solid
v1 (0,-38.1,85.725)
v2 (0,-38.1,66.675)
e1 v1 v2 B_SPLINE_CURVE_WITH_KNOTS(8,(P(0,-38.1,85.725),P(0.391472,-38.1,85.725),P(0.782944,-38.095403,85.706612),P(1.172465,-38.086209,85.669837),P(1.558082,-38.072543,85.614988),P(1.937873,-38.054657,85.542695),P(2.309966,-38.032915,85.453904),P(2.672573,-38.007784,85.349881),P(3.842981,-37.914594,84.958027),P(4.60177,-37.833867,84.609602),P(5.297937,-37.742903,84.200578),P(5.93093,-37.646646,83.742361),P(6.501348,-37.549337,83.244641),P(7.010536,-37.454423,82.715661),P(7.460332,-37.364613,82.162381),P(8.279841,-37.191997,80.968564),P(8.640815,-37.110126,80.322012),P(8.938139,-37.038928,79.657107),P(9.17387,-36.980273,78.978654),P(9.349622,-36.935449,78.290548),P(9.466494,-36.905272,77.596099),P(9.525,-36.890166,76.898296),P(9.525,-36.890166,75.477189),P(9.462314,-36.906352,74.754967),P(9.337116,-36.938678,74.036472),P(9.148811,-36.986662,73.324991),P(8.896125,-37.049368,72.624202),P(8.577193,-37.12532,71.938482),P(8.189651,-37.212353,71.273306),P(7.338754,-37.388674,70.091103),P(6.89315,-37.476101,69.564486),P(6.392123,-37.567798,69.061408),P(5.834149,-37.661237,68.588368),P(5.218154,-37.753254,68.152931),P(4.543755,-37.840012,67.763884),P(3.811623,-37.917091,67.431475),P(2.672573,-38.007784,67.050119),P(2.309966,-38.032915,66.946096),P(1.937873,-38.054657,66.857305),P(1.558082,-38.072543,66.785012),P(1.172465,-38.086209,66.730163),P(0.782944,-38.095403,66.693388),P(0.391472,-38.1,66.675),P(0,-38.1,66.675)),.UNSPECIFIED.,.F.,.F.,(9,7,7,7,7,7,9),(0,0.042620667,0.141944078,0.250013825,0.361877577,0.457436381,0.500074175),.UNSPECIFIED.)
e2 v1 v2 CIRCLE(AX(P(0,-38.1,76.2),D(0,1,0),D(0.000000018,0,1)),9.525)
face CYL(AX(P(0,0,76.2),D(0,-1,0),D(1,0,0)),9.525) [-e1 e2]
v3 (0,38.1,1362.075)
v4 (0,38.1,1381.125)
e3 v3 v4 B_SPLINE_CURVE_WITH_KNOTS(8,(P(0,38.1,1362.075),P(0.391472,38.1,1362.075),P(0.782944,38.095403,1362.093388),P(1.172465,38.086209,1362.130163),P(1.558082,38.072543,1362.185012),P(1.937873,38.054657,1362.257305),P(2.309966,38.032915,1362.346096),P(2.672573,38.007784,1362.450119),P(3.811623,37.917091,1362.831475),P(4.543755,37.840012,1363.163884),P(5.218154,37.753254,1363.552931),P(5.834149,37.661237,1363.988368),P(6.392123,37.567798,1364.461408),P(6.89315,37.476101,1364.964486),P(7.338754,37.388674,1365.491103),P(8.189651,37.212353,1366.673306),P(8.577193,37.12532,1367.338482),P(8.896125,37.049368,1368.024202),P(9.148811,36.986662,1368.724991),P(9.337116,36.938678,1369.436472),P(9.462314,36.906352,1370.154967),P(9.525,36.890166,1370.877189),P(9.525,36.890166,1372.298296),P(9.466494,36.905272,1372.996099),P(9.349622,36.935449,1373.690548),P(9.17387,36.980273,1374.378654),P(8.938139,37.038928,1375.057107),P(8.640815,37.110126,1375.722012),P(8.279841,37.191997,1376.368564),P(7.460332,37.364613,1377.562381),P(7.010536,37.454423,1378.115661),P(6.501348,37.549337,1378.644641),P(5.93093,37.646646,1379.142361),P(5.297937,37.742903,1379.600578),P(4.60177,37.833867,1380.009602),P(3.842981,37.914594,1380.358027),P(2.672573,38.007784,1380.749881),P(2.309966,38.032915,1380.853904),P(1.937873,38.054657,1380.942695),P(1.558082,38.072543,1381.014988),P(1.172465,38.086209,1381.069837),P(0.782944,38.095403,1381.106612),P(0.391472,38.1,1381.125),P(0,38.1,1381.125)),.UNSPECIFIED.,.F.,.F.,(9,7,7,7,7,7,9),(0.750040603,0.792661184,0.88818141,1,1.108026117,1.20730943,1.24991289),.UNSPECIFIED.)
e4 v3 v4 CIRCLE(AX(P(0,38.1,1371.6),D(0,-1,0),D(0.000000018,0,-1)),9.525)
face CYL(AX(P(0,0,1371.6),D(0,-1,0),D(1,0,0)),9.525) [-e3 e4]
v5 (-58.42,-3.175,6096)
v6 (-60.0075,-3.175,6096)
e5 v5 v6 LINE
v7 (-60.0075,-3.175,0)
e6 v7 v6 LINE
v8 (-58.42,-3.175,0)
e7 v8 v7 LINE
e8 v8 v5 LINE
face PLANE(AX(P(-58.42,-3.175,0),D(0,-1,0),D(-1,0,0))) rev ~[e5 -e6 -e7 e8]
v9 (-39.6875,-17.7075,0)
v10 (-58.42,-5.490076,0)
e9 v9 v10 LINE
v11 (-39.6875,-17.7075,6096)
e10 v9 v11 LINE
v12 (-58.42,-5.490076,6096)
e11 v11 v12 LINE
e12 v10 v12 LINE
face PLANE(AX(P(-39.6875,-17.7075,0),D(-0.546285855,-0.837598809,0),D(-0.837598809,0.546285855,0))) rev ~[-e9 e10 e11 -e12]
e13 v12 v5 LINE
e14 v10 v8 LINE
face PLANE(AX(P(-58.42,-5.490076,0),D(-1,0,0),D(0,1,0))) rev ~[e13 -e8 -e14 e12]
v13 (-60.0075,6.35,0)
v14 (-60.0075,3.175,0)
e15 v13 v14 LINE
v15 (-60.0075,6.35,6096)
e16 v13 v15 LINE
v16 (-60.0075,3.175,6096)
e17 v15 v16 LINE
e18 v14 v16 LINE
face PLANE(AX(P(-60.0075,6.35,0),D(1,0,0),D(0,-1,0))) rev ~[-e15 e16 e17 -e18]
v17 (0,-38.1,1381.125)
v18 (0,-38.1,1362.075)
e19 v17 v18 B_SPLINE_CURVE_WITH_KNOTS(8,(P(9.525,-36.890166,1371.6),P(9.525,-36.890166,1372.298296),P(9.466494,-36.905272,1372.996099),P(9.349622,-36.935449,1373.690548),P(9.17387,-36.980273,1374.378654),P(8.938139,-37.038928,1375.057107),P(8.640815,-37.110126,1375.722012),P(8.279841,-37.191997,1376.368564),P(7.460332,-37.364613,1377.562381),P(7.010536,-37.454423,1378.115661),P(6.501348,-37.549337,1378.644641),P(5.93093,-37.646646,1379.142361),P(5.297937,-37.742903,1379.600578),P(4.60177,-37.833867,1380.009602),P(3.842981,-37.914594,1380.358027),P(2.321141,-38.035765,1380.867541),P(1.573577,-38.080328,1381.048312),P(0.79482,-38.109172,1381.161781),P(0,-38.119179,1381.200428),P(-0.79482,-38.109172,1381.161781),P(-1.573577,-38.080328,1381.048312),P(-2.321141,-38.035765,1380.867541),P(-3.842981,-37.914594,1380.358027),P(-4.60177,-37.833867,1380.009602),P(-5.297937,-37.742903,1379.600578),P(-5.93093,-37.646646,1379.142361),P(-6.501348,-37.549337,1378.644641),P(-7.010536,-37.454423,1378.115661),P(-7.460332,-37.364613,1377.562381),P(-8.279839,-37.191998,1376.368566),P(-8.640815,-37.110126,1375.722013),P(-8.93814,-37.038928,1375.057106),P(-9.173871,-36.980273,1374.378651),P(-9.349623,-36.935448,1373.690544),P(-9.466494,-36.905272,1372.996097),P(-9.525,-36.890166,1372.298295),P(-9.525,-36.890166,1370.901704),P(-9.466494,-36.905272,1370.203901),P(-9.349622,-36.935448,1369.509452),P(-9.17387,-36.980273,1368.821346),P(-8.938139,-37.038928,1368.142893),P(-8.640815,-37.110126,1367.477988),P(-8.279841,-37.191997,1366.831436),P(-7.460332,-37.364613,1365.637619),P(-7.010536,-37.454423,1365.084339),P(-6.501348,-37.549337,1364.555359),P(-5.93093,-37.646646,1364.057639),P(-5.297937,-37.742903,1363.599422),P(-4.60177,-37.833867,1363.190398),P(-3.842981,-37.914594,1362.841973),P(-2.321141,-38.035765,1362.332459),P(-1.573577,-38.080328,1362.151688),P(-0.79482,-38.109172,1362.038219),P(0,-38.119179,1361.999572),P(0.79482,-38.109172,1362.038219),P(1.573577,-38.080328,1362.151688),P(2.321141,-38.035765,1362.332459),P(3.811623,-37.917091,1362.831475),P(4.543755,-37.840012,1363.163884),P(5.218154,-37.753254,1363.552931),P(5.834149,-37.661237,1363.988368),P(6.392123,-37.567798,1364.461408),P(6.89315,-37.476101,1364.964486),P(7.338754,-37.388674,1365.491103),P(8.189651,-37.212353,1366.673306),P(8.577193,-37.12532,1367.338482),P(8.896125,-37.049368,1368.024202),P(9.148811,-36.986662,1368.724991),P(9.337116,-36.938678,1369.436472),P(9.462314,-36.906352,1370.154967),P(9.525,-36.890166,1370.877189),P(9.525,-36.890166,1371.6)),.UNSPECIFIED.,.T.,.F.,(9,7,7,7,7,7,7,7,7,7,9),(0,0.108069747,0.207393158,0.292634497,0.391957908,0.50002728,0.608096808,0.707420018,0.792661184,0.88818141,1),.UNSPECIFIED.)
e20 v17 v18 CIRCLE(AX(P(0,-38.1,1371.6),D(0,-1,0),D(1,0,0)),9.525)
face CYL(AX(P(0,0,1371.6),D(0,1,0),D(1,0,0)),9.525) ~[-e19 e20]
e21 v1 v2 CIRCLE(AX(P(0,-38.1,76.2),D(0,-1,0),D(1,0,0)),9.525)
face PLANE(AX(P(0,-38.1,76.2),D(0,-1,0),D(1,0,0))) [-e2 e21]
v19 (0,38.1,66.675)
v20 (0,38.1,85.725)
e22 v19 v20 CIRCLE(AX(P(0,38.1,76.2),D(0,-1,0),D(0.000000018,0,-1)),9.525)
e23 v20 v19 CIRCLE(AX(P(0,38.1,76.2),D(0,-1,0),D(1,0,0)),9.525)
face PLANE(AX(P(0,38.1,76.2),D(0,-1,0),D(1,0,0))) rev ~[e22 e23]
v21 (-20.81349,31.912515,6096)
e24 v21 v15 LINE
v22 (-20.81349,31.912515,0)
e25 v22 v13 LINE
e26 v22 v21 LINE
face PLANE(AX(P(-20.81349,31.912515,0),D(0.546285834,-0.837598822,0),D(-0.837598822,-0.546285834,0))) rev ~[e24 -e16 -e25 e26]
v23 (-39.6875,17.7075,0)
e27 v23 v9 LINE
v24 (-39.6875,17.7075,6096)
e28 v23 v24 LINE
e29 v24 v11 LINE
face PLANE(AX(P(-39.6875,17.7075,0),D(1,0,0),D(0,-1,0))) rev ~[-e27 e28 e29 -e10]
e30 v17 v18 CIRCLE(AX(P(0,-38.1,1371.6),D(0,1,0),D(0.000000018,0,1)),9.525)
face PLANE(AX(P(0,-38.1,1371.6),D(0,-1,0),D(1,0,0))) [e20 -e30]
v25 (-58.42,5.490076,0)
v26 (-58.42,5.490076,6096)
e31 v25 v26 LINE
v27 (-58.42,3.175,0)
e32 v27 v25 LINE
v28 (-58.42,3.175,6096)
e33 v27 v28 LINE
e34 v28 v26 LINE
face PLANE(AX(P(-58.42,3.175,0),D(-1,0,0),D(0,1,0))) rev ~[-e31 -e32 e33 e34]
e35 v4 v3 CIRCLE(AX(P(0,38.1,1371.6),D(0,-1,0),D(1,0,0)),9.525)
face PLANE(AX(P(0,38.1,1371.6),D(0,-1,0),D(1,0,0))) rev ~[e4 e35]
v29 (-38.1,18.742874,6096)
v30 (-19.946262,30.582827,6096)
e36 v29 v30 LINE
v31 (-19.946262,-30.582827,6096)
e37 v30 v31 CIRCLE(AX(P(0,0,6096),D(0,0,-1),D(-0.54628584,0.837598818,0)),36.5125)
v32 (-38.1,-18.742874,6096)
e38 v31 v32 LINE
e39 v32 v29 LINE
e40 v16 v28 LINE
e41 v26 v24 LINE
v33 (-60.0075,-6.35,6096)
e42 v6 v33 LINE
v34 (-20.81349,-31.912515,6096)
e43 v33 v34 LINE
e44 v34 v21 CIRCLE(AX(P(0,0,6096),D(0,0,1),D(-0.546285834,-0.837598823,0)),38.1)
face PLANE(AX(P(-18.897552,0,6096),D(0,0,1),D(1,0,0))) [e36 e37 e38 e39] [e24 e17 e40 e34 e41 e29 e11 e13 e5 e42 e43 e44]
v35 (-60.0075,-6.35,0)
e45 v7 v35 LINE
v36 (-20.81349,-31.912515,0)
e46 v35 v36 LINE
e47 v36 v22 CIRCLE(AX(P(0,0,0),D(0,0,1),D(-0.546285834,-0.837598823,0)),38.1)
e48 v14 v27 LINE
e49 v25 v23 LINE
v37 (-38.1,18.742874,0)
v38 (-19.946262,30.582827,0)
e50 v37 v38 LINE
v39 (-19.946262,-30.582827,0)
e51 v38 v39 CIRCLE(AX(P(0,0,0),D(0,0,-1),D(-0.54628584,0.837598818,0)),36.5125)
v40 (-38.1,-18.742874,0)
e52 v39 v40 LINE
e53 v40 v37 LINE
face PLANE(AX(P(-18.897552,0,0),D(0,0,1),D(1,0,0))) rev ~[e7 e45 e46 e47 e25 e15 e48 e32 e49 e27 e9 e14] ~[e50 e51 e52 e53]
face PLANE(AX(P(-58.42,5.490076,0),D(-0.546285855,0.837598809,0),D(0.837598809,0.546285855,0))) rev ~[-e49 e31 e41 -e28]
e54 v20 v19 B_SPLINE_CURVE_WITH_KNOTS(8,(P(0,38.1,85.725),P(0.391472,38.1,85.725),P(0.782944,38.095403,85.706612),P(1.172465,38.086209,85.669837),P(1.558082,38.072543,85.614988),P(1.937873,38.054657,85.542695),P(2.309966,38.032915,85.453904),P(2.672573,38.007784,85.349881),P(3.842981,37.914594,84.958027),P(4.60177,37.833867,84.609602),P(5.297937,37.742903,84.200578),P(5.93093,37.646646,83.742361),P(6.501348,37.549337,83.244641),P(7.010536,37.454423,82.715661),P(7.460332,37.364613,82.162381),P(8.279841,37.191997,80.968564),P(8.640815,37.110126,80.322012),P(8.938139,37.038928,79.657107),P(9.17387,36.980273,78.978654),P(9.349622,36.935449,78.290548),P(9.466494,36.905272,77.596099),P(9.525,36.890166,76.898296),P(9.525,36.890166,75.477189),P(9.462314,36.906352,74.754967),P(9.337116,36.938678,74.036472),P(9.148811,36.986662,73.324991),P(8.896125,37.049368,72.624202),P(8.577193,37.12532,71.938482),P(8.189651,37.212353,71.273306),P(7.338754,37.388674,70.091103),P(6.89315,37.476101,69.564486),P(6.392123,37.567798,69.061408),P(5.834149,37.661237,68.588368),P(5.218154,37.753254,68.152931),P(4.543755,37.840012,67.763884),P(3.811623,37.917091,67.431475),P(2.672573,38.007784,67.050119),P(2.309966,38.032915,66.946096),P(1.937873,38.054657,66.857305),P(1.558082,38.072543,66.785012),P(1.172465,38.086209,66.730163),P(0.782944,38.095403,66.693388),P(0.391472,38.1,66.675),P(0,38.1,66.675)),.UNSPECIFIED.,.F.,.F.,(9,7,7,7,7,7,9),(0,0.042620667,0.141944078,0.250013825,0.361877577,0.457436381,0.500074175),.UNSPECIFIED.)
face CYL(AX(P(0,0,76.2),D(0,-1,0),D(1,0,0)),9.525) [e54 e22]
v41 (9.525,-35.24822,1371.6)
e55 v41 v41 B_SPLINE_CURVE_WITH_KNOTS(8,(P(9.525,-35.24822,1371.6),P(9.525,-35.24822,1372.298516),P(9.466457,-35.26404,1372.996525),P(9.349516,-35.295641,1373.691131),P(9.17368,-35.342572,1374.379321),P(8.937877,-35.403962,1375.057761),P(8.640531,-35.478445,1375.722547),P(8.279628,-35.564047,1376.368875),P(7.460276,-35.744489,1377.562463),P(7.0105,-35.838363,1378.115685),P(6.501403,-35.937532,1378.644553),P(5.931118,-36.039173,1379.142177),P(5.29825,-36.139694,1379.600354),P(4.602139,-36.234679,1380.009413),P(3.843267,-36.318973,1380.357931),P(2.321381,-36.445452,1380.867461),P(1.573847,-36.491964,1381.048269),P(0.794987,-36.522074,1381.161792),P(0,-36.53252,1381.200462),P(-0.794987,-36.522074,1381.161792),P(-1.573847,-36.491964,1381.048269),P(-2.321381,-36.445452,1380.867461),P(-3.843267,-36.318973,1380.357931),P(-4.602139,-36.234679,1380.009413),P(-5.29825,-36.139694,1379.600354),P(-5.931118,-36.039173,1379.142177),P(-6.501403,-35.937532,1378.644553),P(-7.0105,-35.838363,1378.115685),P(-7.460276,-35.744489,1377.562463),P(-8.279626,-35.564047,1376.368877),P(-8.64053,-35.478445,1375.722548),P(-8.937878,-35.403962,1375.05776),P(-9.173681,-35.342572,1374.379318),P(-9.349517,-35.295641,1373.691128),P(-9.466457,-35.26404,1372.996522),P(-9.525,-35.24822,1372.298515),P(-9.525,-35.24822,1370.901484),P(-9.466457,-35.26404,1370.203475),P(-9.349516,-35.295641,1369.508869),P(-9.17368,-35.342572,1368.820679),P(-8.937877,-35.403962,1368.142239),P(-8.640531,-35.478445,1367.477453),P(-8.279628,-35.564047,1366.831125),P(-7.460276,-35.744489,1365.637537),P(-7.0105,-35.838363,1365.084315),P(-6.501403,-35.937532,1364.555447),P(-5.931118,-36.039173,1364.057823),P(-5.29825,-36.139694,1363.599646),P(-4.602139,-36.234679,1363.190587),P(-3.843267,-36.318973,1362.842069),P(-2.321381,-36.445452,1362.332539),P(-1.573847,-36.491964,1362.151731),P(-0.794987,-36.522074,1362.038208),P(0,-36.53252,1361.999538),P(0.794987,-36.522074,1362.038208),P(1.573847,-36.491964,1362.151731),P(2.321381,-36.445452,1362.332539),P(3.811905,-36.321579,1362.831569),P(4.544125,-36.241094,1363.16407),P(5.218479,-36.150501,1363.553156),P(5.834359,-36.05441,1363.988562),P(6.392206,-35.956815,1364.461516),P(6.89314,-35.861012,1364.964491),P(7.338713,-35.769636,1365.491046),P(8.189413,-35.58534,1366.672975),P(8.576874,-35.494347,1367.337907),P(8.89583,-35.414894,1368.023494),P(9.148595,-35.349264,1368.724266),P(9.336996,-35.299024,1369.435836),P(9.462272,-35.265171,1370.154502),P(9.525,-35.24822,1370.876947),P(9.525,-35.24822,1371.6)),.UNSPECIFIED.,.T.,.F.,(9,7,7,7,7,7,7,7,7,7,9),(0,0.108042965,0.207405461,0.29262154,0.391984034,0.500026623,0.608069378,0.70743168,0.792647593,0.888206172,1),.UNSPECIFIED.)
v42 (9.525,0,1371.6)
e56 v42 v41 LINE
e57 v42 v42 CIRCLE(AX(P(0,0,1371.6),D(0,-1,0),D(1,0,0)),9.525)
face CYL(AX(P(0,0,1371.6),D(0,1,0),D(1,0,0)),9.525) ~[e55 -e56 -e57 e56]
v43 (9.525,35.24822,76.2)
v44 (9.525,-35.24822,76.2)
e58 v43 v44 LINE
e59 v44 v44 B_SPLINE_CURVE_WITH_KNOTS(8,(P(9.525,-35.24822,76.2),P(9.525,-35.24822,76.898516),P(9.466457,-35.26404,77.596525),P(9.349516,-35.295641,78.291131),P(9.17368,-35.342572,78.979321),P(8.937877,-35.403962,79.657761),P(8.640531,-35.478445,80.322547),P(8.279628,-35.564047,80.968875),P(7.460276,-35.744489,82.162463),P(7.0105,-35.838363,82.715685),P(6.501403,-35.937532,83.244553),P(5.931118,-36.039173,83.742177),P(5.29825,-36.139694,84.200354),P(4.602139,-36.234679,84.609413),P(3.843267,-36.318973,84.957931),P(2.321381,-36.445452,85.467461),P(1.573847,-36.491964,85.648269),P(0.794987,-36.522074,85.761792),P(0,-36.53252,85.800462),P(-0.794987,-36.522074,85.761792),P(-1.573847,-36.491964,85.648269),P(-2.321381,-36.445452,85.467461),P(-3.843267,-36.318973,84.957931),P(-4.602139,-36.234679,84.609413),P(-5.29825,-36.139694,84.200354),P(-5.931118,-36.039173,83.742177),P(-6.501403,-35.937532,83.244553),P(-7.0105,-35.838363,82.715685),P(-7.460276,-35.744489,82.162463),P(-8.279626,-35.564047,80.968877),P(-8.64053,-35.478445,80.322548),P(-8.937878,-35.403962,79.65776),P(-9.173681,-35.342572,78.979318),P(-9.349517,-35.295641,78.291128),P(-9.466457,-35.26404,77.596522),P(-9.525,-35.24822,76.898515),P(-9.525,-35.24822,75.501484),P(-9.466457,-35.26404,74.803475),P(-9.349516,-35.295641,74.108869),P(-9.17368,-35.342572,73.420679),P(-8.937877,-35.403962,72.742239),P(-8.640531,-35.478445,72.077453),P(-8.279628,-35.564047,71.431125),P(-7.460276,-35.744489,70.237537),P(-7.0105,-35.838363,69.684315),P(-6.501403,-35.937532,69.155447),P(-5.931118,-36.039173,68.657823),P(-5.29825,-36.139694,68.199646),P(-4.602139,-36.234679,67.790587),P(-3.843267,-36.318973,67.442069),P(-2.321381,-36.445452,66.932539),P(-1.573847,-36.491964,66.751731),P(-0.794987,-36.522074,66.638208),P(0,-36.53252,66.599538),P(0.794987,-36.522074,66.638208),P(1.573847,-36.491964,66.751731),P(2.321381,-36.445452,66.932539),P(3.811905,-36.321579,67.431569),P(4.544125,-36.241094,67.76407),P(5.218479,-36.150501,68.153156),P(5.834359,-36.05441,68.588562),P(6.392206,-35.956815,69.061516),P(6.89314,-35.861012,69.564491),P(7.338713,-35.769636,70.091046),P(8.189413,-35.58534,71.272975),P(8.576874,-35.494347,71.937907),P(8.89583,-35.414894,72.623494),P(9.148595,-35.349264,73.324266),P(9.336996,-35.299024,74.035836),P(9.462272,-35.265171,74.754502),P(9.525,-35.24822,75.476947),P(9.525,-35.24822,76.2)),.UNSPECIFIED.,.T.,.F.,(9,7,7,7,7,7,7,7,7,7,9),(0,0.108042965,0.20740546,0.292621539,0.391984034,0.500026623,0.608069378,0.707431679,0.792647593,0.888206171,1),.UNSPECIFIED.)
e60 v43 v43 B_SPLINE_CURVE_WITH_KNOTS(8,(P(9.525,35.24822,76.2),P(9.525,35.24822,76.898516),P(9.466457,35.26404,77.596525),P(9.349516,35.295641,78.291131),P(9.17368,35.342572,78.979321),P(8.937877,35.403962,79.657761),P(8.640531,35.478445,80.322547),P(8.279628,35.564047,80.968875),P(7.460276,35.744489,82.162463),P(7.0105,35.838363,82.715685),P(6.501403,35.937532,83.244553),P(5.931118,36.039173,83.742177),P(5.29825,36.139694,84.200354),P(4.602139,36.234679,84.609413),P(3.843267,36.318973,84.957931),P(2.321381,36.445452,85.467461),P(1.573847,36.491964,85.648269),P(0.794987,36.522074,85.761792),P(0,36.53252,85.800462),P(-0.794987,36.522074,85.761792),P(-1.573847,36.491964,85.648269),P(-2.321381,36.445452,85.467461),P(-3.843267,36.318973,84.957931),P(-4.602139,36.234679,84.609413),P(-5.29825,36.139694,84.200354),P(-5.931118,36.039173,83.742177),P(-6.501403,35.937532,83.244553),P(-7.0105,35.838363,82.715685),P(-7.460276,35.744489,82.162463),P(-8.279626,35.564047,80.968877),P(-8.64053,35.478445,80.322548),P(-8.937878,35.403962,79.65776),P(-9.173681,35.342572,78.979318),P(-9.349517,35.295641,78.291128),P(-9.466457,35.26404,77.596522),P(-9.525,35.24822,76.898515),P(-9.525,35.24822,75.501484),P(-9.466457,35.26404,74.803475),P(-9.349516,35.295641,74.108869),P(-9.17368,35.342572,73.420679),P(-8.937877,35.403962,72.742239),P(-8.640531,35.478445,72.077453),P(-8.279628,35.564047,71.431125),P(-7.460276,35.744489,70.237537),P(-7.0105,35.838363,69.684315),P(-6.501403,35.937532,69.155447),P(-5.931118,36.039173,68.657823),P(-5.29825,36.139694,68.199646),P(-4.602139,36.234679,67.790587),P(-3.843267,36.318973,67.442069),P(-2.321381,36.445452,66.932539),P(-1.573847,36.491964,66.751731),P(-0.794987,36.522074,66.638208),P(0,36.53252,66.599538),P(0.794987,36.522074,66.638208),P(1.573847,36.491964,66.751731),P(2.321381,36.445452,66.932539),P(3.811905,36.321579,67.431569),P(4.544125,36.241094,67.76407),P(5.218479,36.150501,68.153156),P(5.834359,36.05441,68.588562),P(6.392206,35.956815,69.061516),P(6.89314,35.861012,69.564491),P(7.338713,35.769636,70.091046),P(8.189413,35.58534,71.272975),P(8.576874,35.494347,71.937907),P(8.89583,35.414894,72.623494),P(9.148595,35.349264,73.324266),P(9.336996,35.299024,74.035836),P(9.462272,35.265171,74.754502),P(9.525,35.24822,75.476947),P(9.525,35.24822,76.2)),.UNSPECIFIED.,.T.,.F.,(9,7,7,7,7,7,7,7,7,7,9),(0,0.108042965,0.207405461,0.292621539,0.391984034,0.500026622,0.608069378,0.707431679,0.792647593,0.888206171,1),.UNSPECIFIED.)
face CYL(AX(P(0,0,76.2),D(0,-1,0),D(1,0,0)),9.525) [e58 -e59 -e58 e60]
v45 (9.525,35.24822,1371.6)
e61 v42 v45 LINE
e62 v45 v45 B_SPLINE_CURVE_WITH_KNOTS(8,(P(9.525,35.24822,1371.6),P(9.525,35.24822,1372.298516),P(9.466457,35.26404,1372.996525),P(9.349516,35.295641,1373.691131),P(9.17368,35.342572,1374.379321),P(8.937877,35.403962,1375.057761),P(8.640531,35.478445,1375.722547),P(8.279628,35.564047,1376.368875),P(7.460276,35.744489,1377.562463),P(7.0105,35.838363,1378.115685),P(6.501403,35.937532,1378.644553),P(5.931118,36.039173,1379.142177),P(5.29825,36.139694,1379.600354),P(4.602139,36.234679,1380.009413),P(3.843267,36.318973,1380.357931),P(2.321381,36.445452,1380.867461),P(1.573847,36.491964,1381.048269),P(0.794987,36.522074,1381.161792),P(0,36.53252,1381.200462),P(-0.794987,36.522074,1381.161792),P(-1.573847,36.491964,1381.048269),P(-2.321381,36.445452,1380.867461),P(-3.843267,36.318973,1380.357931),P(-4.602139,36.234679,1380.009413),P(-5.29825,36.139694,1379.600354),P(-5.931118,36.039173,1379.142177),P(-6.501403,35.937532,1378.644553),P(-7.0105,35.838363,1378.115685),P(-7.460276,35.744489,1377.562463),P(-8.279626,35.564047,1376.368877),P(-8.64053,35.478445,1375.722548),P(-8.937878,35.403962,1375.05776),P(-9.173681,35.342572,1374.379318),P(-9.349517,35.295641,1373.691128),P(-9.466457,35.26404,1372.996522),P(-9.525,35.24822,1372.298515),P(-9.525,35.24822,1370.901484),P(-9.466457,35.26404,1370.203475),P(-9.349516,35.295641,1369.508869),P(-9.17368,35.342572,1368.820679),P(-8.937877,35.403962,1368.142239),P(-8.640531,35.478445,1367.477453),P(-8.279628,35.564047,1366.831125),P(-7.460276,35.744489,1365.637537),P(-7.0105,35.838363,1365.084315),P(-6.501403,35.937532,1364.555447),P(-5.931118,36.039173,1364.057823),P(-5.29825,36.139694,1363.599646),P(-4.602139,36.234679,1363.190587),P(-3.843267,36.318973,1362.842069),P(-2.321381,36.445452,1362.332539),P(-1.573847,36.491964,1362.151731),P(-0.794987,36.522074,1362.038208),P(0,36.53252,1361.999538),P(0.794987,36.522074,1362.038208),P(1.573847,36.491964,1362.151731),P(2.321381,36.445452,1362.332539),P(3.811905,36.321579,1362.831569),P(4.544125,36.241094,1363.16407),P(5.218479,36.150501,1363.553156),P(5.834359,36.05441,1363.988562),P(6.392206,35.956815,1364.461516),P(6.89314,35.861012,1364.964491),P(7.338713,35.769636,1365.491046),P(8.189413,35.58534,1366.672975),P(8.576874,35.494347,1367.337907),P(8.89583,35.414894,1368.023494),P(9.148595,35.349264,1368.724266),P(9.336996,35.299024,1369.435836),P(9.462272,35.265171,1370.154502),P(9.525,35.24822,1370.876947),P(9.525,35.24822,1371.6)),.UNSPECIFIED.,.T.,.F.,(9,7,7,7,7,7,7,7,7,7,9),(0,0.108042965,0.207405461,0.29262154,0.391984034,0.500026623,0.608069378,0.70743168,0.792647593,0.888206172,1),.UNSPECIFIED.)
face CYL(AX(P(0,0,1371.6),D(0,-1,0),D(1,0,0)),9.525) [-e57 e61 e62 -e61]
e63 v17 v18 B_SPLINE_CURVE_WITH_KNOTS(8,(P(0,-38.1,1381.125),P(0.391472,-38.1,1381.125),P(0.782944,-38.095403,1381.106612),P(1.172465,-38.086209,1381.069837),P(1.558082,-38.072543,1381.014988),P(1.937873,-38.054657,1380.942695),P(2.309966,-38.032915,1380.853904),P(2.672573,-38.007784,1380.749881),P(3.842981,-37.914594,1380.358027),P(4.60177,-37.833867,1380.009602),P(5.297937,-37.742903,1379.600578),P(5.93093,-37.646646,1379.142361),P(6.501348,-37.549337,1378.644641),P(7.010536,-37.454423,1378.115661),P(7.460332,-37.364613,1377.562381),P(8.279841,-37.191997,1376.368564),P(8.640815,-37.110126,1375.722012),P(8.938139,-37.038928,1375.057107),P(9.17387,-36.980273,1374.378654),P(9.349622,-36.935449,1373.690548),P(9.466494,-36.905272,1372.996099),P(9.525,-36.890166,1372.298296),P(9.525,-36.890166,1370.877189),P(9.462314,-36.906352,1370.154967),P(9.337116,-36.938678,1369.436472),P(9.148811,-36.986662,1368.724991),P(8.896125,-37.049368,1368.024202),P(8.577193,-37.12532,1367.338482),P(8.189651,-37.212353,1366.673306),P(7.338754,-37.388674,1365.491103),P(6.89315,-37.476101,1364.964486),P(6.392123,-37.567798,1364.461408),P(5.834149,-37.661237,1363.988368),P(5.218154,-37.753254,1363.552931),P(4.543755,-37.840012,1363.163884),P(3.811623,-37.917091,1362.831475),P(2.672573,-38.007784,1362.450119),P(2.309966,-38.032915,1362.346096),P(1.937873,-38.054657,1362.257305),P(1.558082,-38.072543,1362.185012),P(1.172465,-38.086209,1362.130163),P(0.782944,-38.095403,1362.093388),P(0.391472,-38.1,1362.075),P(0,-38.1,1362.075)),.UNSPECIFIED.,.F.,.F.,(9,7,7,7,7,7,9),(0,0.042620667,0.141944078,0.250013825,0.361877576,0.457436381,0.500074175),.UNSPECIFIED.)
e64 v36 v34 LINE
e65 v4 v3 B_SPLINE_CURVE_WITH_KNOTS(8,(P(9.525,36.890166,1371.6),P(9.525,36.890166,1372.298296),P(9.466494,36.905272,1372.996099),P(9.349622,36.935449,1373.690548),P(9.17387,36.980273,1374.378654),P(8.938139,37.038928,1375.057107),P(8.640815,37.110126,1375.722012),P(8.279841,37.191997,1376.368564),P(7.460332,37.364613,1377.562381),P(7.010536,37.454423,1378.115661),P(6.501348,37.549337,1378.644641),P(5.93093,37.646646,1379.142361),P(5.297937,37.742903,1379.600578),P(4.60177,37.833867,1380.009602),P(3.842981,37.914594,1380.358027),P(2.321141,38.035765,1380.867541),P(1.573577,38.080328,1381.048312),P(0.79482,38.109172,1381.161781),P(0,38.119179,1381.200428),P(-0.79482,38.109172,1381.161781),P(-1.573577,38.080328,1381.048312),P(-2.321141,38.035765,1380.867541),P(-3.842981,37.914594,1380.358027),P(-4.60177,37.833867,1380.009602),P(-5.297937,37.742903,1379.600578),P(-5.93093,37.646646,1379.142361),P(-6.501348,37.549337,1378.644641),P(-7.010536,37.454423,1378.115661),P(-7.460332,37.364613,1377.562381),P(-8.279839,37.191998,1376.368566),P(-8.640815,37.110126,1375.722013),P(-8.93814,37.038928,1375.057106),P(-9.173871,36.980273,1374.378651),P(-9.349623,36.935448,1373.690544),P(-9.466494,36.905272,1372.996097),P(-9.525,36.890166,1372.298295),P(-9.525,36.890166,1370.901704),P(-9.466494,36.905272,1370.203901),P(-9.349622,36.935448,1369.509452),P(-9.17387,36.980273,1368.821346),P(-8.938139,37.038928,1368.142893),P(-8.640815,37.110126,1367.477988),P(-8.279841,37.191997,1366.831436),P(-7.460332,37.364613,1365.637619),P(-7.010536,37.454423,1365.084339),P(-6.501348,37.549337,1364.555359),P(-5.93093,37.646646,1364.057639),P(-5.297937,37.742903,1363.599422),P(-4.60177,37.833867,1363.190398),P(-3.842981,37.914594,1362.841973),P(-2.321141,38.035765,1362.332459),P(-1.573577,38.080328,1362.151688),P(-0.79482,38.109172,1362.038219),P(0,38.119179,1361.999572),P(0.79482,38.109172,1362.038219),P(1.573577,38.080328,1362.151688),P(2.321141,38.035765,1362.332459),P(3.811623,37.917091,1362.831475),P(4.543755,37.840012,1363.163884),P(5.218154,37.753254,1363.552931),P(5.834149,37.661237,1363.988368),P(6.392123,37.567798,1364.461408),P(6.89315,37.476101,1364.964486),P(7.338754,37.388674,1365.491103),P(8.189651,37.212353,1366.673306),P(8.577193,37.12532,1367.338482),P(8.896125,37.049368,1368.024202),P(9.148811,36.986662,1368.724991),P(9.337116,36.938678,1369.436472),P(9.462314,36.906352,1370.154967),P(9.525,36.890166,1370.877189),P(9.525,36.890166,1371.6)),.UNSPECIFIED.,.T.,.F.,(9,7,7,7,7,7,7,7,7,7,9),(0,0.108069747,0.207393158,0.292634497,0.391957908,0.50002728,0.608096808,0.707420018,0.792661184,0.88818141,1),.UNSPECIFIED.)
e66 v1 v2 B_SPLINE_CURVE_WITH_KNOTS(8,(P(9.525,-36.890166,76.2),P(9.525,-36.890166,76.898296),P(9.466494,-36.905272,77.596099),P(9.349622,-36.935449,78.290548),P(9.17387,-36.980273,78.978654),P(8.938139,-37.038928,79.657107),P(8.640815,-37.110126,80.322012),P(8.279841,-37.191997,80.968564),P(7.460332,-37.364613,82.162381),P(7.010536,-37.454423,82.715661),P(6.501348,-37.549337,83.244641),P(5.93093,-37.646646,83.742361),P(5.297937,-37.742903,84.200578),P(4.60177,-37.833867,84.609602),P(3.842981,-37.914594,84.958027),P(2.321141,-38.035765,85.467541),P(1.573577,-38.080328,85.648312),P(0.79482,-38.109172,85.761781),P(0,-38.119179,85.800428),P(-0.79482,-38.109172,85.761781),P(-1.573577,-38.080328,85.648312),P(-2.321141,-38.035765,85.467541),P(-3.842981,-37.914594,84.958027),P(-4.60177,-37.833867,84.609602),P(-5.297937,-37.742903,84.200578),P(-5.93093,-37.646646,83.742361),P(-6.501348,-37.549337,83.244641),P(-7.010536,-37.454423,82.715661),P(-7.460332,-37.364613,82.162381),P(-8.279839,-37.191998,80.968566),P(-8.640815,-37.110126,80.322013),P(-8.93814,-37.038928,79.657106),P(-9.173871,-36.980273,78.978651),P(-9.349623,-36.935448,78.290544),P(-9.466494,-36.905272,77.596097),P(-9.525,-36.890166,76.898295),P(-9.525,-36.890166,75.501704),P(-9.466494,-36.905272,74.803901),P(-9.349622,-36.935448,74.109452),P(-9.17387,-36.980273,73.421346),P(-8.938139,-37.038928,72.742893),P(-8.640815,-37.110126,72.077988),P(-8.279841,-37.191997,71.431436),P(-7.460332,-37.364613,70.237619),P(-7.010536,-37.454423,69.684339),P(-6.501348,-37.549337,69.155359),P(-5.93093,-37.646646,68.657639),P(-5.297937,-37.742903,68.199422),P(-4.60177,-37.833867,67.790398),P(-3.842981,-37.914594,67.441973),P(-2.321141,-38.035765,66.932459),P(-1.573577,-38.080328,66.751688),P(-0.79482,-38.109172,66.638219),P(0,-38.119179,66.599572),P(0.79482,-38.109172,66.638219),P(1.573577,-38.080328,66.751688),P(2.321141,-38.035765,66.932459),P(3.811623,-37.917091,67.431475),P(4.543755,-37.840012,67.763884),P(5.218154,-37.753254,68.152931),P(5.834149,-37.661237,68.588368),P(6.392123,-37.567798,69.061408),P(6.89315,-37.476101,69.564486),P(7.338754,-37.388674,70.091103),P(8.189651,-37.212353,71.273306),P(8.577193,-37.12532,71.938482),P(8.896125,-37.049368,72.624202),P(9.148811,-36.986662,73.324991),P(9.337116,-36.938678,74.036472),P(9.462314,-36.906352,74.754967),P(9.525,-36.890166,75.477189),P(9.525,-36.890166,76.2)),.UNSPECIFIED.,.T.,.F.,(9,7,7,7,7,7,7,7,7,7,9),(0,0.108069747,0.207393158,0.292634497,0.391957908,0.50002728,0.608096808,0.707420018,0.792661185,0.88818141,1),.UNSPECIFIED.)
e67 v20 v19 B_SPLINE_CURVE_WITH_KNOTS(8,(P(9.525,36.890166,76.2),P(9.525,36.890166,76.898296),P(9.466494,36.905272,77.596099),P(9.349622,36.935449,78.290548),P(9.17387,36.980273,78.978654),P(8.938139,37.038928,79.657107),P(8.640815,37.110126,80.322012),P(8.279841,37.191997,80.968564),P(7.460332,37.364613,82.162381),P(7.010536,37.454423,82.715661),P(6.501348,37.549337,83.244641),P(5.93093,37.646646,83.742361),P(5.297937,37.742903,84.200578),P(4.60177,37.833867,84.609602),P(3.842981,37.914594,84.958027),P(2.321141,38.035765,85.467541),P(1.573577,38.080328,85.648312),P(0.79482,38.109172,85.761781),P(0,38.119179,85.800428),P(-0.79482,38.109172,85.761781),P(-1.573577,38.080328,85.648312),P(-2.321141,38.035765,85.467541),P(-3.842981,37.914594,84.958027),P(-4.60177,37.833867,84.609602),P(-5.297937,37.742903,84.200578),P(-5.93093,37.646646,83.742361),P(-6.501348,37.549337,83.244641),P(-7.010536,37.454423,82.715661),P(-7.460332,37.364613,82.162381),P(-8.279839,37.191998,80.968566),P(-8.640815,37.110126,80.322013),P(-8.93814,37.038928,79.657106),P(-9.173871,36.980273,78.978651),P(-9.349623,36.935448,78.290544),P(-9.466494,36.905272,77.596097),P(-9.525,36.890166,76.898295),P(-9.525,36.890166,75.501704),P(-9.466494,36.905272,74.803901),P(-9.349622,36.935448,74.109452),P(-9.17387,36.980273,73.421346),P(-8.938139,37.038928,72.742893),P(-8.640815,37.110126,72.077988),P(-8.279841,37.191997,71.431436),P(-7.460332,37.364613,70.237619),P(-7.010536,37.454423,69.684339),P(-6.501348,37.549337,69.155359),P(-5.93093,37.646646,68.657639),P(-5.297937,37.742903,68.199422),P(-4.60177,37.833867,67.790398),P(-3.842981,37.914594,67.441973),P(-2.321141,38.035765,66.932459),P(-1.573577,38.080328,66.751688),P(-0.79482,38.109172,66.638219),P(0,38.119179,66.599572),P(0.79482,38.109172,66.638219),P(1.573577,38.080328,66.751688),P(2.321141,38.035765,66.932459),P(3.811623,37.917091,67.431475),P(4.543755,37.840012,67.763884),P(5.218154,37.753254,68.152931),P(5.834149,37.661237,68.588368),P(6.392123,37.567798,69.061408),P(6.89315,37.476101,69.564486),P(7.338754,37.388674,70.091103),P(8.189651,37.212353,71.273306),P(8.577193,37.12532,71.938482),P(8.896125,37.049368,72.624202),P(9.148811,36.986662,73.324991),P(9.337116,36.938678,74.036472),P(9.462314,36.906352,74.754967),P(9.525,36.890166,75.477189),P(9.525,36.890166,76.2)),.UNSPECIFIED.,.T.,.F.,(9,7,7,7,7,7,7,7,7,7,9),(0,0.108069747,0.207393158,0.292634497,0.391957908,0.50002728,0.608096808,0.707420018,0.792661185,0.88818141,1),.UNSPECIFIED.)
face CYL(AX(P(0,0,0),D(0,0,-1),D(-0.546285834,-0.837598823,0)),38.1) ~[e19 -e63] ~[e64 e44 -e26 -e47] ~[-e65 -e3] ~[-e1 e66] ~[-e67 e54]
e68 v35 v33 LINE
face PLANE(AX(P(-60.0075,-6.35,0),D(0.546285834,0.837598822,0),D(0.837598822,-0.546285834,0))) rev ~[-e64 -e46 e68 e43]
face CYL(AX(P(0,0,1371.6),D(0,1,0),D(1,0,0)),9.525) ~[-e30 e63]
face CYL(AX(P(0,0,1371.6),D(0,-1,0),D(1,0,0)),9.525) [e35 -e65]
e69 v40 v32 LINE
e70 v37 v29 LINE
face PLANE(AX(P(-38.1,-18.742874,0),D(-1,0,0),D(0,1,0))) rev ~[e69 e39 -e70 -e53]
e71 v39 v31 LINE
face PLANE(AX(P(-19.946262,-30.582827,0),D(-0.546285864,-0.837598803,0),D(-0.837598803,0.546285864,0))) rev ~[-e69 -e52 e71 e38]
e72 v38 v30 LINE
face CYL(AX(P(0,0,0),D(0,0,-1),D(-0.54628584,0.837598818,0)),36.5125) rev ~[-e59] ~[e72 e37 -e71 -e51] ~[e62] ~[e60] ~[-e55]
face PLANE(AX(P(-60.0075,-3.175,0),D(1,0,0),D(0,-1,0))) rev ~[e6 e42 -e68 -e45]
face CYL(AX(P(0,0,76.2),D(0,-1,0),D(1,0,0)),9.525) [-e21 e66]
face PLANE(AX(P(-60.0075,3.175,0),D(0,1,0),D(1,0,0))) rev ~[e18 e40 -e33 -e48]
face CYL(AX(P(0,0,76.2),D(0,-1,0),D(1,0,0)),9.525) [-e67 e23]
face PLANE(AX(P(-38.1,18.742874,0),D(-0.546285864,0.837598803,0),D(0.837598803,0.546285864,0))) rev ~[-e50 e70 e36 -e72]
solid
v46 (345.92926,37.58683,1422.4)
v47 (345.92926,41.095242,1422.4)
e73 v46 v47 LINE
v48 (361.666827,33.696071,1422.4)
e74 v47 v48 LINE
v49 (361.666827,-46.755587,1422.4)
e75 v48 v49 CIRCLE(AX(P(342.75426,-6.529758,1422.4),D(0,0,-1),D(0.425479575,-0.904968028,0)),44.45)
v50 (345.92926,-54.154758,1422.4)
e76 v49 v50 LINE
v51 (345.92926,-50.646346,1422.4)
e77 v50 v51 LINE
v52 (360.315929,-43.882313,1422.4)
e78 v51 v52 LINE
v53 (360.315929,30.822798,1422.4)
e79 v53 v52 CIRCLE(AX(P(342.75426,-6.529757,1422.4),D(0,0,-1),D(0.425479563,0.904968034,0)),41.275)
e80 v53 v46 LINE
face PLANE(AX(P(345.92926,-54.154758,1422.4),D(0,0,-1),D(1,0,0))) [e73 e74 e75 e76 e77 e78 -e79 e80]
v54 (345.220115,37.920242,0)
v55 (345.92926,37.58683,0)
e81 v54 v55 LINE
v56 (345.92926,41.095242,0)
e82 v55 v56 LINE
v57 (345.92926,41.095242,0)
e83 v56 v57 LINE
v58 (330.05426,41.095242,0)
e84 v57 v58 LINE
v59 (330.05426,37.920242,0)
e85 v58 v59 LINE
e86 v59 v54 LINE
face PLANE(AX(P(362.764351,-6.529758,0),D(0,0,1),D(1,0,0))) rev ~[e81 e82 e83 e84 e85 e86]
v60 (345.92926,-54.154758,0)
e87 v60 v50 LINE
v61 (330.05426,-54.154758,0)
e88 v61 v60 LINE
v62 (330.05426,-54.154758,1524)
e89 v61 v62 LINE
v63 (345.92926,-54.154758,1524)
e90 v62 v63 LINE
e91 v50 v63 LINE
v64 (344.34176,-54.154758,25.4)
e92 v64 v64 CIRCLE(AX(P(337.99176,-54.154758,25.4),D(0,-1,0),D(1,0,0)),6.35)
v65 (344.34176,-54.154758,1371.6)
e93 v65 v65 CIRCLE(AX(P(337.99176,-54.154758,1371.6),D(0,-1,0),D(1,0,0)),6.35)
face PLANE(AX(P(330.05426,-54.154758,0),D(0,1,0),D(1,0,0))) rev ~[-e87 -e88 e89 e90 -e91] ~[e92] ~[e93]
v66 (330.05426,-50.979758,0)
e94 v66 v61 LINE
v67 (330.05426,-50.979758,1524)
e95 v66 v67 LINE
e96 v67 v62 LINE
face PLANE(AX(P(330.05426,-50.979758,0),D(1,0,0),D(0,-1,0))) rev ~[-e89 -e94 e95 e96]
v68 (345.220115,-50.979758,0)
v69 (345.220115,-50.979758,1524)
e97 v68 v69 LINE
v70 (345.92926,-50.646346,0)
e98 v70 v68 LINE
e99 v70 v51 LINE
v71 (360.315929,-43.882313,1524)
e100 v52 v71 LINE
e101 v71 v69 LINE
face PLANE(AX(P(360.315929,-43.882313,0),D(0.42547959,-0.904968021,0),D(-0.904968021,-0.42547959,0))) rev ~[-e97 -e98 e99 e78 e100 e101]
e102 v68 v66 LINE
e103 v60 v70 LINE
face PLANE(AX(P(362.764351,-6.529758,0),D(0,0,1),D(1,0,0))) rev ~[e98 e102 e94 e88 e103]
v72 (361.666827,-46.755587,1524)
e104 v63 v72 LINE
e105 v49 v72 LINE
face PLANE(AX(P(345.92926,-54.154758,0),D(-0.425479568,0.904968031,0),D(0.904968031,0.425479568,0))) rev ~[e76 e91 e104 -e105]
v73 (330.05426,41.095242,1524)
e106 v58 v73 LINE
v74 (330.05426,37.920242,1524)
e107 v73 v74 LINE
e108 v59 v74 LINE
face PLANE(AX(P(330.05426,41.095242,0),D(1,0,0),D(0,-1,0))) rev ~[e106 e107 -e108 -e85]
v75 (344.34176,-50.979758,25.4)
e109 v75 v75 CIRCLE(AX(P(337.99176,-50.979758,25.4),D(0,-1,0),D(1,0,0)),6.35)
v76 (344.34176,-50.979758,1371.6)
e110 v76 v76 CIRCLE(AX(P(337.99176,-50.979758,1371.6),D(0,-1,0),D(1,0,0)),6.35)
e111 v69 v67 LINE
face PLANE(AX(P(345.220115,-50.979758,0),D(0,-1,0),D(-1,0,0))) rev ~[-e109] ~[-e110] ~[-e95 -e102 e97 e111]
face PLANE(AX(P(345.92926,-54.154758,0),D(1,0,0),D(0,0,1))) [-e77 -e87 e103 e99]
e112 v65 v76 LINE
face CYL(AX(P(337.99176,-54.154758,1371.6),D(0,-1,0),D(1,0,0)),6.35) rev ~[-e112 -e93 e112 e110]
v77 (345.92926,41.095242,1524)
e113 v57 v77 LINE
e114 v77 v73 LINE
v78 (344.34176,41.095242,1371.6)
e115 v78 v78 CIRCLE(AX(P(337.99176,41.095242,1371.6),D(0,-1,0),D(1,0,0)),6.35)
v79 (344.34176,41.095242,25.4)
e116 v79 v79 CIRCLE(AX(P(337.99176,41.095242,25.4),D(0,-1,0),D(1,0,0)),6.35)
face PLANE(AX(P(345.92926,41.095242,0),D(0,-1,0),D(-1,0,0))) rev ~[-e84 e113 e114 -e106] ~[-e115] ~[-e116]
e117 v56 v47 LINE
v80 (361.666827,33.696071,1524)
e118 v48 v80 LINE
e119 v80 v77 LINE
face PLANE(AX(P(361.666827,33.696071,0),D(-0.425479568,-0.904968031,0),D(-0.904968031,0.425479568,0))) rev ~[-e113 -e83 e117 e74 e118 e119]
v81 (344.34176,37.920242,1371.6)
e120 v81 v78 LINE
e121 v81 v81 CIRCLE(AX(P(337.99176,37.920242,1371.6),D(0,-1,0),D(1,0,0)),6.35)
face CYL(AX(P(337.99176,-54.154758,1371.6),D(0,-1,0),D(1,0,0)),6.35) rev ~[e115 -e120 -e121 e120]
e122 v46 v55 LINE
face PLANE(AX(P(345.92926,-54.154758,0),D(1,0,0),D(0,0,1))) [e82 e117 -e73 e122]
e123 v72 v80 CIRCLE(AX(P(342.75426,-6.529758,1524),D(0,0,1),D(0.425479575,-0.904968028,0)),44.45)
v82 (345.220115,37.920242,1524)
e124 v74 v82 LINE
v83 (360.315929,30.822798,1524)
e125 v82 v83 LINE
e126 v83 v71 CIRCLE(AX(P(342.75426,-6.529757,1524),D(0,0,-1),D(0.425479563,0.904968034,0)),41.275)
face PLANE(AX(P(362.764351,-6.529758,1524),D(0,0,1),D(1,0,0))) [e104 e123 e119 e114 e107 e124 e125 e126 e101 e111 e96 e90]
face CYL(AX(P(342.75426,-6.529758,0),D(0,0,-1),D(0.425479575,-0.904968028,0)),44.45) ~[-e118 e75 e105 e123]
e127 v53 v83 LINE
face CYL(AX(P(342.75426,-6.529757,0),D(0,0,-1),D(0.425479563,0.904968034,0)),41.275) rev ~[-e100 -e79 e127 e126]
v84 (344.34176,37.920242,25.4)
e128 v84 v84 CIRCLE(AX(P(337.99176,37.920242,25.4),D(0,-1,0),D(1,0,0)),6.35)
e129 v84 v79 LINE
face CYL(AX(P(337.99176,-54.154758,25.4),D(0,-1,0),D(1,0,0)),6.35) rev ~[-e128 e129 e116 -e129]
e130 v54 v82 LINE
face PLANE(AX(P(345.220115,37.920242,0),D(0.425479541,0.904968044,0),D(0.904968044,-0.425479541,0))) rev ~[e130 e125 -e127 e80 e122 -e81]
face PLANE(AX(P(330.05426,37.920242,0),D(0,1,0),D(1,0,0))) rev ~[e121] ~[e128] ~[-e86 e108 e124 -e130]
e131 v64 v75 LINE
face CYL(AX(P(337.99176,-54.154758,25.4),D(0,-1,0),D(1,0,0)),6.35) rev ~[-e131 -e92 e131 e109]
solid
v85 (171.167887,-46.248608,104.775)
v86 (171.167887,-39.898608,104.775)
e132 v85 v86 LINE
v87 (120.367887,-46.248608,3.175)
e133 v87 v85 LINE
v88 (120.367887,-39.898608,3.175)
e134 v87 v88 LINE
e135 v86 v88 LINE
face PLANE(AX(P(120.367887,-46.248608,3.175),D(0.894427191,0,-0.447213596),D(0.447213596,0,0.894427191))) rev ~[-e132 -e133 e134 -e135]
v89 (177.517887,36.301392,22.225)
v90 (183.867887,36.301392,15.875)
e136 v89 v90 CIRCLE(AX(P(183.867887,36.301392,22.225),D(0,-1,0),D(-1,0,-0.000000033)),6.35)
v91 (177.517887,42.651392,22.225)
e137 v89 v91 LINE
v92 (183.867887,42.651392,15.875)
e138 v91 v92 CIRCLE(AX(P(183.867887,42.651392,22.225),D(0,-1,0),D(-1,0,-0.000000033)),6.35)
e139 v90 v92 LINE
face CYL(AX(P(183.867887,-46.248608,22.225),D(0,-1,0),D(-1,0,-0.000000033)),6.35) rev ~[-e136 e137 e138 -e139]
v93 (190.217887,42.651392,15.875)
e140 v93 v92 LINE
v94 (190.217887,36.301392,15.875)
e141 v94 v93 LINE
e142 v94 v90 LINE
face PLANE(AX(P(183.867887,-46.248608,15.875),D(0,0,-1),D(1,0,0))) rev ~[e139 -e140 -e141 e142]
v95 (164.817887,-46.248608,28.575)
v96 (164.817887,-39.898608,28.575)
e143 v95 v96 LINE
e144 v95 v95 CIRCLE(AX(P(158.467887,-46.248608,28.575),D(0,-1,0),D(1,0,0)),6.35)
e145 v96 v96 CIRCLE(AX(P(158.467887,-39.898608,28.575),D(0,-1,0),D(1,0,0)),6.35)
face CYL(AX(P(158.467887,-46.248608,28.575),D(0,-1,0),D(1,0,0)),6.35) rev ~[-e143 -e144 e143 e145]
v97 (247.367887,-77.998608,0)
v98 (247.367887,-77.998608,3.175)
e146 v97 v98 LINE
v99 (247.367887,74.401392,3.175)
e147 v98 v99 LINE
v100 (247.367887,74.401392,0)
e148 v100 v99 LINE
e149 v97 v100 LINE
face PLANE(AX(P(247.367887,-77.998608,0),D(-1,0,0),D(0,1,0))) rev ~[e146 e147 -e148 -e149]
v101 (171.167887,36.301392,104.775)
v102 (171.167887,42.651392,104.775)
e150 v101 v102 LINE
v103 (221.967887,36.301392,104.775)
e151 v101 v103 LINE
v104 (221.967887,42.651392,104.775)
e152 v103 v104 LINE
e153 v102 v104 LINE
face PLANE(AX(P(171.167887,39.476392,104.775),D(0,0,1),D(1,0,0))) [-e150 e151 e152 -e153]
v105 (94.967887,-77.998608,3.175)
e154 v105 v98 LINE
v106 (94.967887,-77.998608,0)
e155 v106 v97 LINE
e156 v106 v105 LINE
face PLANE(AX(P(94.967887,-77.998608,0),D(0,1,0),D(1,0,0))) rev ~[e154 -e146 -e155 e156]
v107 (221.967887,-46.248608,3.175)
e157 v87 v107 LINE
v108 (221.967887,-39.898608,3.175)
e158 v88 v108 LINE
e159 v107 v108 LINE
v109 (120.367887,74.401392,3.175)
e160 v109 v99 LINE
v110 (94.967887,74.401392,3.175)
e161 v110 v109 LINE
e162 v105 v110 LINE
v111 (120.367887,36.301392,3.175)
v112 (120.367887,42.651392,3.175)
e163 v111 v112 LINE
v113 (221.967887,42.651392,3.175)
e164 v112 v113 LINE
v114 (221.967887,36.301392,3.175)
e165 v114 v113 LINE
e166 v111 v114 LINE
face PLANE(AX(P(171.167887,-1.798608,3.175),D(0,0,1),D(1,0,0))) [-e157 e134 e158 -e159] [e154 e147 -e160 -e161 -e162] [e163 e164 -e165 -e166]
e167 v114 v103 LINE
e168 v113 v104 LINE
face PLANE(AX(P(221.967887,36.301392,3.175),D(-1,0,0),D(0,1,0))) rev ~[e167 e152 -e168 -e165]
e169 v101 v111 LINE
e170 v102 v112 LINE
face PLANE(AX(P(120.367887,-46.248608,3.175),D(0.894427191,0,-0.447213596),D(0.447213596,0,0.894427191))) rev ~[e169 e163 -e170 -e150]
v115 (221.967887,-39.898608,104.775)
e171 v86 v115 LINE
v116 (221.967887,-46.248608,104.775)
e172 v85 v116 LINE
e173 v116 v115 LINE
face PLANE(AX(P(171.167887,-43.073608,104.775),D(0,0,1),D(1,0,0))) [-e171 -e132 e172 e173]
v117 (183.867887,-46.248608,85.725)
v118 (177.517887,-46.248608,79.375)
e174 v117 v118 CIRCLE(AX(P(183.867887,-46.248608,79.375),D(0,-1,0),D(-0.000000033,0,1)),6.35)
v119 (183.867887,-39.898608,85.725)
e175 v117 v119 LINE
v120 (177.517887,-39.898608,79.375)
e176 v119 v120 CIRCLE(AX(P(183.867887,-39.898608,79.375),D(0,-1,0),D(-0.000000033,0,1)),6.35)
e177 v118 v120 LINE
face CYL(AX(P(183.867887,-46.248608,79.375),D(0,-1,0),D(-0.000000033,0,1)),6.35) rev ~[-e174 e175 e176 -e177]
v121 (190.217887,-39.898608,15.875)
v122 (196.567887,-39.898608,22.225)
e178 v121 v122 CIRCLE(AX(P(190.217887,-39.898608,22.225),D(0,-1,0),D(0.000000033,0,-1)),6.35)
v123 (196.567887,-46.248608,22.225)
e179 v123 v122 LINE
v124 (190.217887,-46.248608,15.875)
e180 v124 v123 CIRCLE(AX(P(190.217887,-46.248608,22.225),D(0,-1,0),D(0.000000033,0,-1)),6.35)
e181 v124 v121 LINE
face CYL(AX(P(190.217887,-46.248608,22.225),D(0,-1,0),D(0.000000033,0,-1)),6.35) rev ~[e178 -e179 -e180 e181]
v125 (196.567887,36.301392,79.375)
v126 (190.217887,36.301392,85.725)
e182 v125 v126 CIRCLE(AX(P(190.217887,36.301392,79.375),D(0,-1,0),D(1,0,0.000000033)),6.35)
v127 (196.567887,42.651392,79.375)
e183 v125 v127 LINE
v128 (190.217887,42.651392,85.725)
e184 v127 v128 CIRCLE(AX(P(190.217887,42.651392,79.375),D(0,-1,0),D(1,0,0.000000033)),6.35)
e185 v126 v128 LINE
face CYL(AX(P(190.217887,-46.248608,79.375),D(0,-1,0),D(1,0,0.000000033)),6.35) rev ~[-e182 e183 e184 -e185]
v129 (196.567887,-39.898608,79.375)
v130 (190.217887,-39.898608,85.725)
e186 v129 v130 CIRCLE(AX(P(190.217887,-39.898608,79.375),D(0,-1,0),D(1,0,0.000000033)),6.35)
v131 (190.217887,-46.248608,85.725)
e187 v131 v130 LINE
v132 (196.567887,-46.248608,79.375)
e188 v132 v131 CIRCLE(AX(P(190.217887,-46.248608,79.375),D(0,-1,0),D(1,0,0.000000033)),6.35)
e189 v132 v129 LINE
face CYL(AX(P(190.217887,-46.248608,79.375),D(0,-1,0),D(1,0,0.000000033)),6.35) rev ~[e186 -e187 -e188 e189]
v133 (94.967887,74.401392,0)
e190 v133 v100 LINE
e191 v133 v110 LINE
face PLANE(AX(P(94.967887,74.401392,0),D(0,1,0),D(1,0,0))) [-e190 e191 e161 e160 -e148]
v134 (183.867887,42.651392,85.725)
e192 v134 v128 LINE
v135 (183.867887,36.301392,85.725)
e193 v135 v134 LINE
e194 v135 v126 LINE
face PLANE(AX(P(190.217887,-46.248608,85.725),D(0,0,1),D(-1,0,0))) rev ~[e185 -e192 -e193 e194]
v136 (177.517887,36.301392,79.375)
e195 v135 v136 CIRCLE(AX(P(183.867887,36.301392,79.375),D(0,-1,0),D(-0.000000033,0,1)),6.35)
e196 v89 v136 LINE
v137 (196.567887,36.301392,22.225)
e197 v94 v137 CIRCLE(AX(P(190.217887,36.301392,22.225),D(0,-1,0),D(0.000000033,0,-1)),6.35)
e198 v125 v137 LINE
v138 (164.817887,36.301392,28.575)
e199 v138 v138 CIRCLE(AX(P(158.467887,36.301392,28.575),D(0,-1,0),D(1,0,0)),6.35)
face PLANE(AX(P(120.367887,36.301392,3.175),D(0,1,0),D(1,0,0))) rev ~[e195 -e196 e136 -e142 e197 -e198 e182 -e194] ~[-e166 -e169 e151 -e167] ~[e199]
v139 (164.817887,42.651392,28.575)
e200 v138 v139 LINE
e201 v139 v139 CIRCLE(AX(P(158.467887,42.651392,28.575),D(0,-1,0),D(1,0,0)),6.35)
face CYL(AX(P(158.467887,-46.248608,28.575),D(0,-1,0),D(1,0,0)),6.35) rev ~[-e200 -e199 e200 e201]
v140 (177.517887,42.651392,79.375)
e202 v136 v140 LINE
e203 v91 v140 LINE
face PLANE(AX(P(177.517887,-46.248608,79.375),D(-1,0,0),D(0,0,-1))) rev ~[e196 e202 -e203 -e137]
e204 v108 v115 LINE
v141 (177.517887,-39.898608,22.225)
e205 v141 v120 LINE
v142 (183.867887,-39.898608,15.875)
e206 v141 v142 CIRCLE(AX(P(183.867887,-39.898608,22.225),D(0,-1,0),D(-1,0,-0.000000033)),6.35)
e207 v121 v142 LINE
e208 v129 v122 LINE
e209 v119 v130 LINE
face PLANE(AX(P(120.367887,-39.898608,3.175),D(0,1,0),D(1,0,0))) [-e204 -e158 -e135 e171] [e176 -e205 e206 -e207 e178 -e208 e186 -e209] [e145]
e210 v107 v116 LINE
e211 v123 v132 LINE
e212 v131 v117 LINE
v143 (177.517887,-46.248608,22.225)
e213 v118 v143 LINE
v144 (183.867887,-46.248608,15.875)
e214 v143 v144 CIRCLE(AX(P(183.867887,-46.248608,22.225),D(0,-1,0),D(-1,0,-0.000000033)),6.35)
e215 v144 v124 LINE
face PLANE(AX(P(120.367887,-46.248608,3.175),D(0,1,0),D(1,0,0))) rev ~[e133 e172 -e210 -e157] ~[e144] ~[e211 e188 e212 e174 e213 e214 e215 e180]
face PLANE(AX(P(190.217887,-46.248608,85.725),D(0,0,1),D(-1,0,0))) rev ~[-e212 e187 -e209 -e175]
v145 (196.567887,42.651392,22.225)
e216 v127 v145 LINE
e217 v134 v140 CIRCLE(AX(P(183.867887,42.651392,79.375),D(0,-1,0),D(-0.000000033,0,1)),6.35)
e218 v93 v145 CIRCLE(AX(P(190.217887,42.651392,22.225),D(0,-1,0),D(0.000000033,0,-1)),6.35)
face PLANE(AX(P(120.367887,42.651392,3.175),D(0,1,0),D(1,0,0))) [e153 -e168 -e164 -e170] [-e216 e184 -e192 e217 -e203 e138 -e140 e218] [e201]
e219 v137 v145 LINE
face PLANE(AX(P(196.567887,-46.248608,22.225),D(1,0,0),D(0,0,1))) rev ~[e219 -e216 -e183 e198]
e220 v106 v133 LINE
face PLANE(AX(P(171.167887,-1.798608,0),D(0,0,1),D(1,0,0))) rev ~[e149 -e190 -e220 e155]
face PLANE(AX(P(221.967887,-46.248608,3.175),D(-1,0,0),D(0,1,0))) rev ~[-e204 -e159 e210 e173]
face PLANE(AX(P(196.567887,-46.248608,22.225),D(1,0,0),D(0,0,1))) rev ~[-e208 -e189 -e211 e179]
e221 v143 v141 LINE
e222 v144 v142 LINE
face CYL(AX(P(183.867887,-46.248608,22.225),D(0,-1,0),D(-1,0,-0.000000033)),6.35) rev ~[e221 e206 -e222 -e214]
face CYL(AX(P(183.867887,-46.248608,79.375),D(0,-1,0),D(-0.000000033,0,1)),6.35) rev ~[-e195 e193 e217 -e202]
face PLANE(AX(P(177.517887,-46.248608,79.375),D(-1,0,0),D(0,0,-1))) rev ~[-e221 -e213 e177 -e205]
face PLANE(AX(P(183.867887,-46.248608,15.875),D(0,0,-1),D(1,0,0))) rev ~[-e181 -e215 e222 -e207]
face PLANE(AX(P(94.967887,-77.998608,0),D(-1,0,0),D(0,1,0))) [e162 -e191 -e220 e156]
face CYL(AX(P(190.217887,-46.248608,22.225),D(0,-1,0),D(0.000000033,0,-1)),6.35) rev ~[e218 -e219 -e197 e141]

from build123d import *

# Parameters (mm, degrees)
F1_DEPTH  = 6096
F2_R      = 9.525
F3_DEPTH  = 38.1
F4_W      = 152.4
F4_H      = 152.4
F5_DEPTH  = 3.175
F6_W      = 101.6
F6_H      = 6.35
F7_DEPTH  = 101.6
F8_R      = 6.35
F9_DEPTH  = 120.651
F11_DEPTH = 1524
F12_W     = 75.010199
F12_H     = 1422.4
F13_DEPTH = 128.557149
F14_R     = 6.35
F15_DEPTH = 128.557149


with BuildPart() as f1:
    # F0 (on Top) → F1 (new body)
    with BuildSketch(Plane.XY):
        with BuildLine():
            Line((-60.0075, -6.35), (-20.81349, -31.912515))
            ThreePointArc((-20.81349, -31.912515), (38.1, 0), (-20.81349, 31.912515))
            Line((-20.81349, 31.912515), (-60.0075, 6.35))
            Line((-60.0075, 6.35), (-60.0075, 3.175))
            Line((-60.0075, 3.175), (-58.42, 3.175))
            Line((-58.42, 3.175), (-58.42, 5.490076))
            Line((-58.42, 5.490076), (-39.6875, 17.7075))
            Line((-39.6875, 17.7075), (-39.6875, 0))
            Line((-39.6875, 0), (-39.6875, -17.7075))
            Line((-39.6875, -17.7075), (-58.42, -5.490076))
            Line((-58.42, -5.490076), (-58.42, -3.175))
            Line((-58.42, -3.175), (-60.0075, -3.175))
            Line((-60.0075, -3.175), (-60.0075, -6.35))
        make_face()
        with BuildLine():
            ThreePointArc((-19.946262, 30.582827), (36.5125, 0), (-19.946262, -30.582827))
            Line((-19.946262, -30.582827), (-38.1, -18.742874))
            Line((-38.1, -18.742874), (-38.1, 18.742874))
            Line((-38.1, 18.742874), (-19.946262, 30.582827))
        make_face(mode=Mode.SUBTRACT)
    extrude(amount=F1_DEPTH)

    # F2 (on Front) → F3 (join, symmetric)
    with BuildSketch(Plane.XZ):
        with Locations((0, 1371.6)):
            Circle(F2_R)
        with Locations((0, 76.2)):
            Circle(F2_R)
    extrude(amount=F3_DEPTH, both=True)


with BuildPart() as f5:
    # F4 (on Top) → F5 (new body)
    with BuildSketch(Plane.XY):
        with Locations((171.167887, -1.798608)):
            Rectangle(F4_W, F4_H)
    extrude(amount=F5_DEPTH)

    # F6 (on face) → F7 (join)
    with BuildSketch(Plane.XY.offset(3.175)):
        with Locations((171.167887, 39.476392)):
            Rectangle(F6_W, F6_H)
        with Locations((171.167887, -43.073608)):
            Rectangle(F6_W, F6_H)
    extrude(amount=F7_DEPTH)

    # F8 (on face) → F9 (cut, through all)
    with BuildSketch(Plane.XZ.offset(46.248608)):
        with BuildLine():
            Line((190.217887, 85.725), (183.867887, 85.725))
            ThreePointArc((183.867887, 85.725), (179.377759, 83.865128), (177.517887, 79.375))
            Line((177.517887, 79.375), (177.517887, 22.225))
            ThreePointArc((177.517887, 22.225), (179.377759, 17.734872), (183.867887, 15.875))
            Line((183.867887, 15.875), (190.217887, 15.875))
            ThreePointArc((190.217887, 15.875), (194.708015, 17.734872), (196.567887, 22.225))
            Line((196.567887, 22.225), (196.567887, 79.375))
            ThreePointArc((196.567887, 79.375), (194.708015, 83.865128), (190.217887, 85.725))
        make_face()
        with Locations((158.467887, 28.575)):
            Circle(F8_R)
        Polygon((120.367887, 104.775), (120.367887, 3.175), (171.167887, 104.775), align=None)
    extrude(amount=-F9_DEPTH, mode=Mode.SUBTRACT)


with BuildPart() as f11:
    # F10 (on Top) → F11 (new body)
    with BuildSketch(Plane.XY):
        with BuildLine():
            Line((330.05426, 41.095242), (330.05426, 37.920242))
            Line((330.05426, 37.920242), (345.220115, 37.920242))
            Line((345.220115, 37.920242), (360.315929, 30.822798))
            ThreePointArc((360.315929, 30.822798), (384.02926, -6.529758), (360.315929, -43.882313))
            Line((360.315929, -43.882313), (345.220115, -50.979758))
            Line((345.220115, -50.979758), (330.05426, -50.979758))
            Line((330.05426, -50.979758), (330.05426, -54.154758))
            Line((330.05426, -54.154758), (345.92926, -54.154758))
            Line((345.92926, -54.154758), (361.666827, -46.755587))
            ThreePointArc((361.666827, -46.755587), (387.20426, -6.529758), (361.666827, 33.696071))
            Line((361.666827, 33.696071), (345.92926, 41.095242))
            Line((345.92926, 41.095242), (330.05426, 41.095242))
        make_face()
    extrude(amount=F11_DEPTH)

    # F12 (on face) → F13 (cut, through all)
    with BuildSketch(Plane.XZ.offset(54.154758)):
        with Locations((383.43436, 711.2)):
            Rectangle(F12_W, F12_H)
    extrude(amount=-F13_DEPTH, mode=Mode.SUBTRACT)

    # F14 (on face) → F15 (cut, through all)
    with BuildSketch(Plane.XZ.offset(54.154758)):
        with Locations((337.99176, 1371.6)):
            Circle(F14_R)
        with Locations((337.99176, 25.4)):
            Circle(F14_R)
    extrude(amount=-F15_DEPTH, mode=Mode.SUBTRACT)


solid = Compound([f1.part, f5.part, f11.part])
